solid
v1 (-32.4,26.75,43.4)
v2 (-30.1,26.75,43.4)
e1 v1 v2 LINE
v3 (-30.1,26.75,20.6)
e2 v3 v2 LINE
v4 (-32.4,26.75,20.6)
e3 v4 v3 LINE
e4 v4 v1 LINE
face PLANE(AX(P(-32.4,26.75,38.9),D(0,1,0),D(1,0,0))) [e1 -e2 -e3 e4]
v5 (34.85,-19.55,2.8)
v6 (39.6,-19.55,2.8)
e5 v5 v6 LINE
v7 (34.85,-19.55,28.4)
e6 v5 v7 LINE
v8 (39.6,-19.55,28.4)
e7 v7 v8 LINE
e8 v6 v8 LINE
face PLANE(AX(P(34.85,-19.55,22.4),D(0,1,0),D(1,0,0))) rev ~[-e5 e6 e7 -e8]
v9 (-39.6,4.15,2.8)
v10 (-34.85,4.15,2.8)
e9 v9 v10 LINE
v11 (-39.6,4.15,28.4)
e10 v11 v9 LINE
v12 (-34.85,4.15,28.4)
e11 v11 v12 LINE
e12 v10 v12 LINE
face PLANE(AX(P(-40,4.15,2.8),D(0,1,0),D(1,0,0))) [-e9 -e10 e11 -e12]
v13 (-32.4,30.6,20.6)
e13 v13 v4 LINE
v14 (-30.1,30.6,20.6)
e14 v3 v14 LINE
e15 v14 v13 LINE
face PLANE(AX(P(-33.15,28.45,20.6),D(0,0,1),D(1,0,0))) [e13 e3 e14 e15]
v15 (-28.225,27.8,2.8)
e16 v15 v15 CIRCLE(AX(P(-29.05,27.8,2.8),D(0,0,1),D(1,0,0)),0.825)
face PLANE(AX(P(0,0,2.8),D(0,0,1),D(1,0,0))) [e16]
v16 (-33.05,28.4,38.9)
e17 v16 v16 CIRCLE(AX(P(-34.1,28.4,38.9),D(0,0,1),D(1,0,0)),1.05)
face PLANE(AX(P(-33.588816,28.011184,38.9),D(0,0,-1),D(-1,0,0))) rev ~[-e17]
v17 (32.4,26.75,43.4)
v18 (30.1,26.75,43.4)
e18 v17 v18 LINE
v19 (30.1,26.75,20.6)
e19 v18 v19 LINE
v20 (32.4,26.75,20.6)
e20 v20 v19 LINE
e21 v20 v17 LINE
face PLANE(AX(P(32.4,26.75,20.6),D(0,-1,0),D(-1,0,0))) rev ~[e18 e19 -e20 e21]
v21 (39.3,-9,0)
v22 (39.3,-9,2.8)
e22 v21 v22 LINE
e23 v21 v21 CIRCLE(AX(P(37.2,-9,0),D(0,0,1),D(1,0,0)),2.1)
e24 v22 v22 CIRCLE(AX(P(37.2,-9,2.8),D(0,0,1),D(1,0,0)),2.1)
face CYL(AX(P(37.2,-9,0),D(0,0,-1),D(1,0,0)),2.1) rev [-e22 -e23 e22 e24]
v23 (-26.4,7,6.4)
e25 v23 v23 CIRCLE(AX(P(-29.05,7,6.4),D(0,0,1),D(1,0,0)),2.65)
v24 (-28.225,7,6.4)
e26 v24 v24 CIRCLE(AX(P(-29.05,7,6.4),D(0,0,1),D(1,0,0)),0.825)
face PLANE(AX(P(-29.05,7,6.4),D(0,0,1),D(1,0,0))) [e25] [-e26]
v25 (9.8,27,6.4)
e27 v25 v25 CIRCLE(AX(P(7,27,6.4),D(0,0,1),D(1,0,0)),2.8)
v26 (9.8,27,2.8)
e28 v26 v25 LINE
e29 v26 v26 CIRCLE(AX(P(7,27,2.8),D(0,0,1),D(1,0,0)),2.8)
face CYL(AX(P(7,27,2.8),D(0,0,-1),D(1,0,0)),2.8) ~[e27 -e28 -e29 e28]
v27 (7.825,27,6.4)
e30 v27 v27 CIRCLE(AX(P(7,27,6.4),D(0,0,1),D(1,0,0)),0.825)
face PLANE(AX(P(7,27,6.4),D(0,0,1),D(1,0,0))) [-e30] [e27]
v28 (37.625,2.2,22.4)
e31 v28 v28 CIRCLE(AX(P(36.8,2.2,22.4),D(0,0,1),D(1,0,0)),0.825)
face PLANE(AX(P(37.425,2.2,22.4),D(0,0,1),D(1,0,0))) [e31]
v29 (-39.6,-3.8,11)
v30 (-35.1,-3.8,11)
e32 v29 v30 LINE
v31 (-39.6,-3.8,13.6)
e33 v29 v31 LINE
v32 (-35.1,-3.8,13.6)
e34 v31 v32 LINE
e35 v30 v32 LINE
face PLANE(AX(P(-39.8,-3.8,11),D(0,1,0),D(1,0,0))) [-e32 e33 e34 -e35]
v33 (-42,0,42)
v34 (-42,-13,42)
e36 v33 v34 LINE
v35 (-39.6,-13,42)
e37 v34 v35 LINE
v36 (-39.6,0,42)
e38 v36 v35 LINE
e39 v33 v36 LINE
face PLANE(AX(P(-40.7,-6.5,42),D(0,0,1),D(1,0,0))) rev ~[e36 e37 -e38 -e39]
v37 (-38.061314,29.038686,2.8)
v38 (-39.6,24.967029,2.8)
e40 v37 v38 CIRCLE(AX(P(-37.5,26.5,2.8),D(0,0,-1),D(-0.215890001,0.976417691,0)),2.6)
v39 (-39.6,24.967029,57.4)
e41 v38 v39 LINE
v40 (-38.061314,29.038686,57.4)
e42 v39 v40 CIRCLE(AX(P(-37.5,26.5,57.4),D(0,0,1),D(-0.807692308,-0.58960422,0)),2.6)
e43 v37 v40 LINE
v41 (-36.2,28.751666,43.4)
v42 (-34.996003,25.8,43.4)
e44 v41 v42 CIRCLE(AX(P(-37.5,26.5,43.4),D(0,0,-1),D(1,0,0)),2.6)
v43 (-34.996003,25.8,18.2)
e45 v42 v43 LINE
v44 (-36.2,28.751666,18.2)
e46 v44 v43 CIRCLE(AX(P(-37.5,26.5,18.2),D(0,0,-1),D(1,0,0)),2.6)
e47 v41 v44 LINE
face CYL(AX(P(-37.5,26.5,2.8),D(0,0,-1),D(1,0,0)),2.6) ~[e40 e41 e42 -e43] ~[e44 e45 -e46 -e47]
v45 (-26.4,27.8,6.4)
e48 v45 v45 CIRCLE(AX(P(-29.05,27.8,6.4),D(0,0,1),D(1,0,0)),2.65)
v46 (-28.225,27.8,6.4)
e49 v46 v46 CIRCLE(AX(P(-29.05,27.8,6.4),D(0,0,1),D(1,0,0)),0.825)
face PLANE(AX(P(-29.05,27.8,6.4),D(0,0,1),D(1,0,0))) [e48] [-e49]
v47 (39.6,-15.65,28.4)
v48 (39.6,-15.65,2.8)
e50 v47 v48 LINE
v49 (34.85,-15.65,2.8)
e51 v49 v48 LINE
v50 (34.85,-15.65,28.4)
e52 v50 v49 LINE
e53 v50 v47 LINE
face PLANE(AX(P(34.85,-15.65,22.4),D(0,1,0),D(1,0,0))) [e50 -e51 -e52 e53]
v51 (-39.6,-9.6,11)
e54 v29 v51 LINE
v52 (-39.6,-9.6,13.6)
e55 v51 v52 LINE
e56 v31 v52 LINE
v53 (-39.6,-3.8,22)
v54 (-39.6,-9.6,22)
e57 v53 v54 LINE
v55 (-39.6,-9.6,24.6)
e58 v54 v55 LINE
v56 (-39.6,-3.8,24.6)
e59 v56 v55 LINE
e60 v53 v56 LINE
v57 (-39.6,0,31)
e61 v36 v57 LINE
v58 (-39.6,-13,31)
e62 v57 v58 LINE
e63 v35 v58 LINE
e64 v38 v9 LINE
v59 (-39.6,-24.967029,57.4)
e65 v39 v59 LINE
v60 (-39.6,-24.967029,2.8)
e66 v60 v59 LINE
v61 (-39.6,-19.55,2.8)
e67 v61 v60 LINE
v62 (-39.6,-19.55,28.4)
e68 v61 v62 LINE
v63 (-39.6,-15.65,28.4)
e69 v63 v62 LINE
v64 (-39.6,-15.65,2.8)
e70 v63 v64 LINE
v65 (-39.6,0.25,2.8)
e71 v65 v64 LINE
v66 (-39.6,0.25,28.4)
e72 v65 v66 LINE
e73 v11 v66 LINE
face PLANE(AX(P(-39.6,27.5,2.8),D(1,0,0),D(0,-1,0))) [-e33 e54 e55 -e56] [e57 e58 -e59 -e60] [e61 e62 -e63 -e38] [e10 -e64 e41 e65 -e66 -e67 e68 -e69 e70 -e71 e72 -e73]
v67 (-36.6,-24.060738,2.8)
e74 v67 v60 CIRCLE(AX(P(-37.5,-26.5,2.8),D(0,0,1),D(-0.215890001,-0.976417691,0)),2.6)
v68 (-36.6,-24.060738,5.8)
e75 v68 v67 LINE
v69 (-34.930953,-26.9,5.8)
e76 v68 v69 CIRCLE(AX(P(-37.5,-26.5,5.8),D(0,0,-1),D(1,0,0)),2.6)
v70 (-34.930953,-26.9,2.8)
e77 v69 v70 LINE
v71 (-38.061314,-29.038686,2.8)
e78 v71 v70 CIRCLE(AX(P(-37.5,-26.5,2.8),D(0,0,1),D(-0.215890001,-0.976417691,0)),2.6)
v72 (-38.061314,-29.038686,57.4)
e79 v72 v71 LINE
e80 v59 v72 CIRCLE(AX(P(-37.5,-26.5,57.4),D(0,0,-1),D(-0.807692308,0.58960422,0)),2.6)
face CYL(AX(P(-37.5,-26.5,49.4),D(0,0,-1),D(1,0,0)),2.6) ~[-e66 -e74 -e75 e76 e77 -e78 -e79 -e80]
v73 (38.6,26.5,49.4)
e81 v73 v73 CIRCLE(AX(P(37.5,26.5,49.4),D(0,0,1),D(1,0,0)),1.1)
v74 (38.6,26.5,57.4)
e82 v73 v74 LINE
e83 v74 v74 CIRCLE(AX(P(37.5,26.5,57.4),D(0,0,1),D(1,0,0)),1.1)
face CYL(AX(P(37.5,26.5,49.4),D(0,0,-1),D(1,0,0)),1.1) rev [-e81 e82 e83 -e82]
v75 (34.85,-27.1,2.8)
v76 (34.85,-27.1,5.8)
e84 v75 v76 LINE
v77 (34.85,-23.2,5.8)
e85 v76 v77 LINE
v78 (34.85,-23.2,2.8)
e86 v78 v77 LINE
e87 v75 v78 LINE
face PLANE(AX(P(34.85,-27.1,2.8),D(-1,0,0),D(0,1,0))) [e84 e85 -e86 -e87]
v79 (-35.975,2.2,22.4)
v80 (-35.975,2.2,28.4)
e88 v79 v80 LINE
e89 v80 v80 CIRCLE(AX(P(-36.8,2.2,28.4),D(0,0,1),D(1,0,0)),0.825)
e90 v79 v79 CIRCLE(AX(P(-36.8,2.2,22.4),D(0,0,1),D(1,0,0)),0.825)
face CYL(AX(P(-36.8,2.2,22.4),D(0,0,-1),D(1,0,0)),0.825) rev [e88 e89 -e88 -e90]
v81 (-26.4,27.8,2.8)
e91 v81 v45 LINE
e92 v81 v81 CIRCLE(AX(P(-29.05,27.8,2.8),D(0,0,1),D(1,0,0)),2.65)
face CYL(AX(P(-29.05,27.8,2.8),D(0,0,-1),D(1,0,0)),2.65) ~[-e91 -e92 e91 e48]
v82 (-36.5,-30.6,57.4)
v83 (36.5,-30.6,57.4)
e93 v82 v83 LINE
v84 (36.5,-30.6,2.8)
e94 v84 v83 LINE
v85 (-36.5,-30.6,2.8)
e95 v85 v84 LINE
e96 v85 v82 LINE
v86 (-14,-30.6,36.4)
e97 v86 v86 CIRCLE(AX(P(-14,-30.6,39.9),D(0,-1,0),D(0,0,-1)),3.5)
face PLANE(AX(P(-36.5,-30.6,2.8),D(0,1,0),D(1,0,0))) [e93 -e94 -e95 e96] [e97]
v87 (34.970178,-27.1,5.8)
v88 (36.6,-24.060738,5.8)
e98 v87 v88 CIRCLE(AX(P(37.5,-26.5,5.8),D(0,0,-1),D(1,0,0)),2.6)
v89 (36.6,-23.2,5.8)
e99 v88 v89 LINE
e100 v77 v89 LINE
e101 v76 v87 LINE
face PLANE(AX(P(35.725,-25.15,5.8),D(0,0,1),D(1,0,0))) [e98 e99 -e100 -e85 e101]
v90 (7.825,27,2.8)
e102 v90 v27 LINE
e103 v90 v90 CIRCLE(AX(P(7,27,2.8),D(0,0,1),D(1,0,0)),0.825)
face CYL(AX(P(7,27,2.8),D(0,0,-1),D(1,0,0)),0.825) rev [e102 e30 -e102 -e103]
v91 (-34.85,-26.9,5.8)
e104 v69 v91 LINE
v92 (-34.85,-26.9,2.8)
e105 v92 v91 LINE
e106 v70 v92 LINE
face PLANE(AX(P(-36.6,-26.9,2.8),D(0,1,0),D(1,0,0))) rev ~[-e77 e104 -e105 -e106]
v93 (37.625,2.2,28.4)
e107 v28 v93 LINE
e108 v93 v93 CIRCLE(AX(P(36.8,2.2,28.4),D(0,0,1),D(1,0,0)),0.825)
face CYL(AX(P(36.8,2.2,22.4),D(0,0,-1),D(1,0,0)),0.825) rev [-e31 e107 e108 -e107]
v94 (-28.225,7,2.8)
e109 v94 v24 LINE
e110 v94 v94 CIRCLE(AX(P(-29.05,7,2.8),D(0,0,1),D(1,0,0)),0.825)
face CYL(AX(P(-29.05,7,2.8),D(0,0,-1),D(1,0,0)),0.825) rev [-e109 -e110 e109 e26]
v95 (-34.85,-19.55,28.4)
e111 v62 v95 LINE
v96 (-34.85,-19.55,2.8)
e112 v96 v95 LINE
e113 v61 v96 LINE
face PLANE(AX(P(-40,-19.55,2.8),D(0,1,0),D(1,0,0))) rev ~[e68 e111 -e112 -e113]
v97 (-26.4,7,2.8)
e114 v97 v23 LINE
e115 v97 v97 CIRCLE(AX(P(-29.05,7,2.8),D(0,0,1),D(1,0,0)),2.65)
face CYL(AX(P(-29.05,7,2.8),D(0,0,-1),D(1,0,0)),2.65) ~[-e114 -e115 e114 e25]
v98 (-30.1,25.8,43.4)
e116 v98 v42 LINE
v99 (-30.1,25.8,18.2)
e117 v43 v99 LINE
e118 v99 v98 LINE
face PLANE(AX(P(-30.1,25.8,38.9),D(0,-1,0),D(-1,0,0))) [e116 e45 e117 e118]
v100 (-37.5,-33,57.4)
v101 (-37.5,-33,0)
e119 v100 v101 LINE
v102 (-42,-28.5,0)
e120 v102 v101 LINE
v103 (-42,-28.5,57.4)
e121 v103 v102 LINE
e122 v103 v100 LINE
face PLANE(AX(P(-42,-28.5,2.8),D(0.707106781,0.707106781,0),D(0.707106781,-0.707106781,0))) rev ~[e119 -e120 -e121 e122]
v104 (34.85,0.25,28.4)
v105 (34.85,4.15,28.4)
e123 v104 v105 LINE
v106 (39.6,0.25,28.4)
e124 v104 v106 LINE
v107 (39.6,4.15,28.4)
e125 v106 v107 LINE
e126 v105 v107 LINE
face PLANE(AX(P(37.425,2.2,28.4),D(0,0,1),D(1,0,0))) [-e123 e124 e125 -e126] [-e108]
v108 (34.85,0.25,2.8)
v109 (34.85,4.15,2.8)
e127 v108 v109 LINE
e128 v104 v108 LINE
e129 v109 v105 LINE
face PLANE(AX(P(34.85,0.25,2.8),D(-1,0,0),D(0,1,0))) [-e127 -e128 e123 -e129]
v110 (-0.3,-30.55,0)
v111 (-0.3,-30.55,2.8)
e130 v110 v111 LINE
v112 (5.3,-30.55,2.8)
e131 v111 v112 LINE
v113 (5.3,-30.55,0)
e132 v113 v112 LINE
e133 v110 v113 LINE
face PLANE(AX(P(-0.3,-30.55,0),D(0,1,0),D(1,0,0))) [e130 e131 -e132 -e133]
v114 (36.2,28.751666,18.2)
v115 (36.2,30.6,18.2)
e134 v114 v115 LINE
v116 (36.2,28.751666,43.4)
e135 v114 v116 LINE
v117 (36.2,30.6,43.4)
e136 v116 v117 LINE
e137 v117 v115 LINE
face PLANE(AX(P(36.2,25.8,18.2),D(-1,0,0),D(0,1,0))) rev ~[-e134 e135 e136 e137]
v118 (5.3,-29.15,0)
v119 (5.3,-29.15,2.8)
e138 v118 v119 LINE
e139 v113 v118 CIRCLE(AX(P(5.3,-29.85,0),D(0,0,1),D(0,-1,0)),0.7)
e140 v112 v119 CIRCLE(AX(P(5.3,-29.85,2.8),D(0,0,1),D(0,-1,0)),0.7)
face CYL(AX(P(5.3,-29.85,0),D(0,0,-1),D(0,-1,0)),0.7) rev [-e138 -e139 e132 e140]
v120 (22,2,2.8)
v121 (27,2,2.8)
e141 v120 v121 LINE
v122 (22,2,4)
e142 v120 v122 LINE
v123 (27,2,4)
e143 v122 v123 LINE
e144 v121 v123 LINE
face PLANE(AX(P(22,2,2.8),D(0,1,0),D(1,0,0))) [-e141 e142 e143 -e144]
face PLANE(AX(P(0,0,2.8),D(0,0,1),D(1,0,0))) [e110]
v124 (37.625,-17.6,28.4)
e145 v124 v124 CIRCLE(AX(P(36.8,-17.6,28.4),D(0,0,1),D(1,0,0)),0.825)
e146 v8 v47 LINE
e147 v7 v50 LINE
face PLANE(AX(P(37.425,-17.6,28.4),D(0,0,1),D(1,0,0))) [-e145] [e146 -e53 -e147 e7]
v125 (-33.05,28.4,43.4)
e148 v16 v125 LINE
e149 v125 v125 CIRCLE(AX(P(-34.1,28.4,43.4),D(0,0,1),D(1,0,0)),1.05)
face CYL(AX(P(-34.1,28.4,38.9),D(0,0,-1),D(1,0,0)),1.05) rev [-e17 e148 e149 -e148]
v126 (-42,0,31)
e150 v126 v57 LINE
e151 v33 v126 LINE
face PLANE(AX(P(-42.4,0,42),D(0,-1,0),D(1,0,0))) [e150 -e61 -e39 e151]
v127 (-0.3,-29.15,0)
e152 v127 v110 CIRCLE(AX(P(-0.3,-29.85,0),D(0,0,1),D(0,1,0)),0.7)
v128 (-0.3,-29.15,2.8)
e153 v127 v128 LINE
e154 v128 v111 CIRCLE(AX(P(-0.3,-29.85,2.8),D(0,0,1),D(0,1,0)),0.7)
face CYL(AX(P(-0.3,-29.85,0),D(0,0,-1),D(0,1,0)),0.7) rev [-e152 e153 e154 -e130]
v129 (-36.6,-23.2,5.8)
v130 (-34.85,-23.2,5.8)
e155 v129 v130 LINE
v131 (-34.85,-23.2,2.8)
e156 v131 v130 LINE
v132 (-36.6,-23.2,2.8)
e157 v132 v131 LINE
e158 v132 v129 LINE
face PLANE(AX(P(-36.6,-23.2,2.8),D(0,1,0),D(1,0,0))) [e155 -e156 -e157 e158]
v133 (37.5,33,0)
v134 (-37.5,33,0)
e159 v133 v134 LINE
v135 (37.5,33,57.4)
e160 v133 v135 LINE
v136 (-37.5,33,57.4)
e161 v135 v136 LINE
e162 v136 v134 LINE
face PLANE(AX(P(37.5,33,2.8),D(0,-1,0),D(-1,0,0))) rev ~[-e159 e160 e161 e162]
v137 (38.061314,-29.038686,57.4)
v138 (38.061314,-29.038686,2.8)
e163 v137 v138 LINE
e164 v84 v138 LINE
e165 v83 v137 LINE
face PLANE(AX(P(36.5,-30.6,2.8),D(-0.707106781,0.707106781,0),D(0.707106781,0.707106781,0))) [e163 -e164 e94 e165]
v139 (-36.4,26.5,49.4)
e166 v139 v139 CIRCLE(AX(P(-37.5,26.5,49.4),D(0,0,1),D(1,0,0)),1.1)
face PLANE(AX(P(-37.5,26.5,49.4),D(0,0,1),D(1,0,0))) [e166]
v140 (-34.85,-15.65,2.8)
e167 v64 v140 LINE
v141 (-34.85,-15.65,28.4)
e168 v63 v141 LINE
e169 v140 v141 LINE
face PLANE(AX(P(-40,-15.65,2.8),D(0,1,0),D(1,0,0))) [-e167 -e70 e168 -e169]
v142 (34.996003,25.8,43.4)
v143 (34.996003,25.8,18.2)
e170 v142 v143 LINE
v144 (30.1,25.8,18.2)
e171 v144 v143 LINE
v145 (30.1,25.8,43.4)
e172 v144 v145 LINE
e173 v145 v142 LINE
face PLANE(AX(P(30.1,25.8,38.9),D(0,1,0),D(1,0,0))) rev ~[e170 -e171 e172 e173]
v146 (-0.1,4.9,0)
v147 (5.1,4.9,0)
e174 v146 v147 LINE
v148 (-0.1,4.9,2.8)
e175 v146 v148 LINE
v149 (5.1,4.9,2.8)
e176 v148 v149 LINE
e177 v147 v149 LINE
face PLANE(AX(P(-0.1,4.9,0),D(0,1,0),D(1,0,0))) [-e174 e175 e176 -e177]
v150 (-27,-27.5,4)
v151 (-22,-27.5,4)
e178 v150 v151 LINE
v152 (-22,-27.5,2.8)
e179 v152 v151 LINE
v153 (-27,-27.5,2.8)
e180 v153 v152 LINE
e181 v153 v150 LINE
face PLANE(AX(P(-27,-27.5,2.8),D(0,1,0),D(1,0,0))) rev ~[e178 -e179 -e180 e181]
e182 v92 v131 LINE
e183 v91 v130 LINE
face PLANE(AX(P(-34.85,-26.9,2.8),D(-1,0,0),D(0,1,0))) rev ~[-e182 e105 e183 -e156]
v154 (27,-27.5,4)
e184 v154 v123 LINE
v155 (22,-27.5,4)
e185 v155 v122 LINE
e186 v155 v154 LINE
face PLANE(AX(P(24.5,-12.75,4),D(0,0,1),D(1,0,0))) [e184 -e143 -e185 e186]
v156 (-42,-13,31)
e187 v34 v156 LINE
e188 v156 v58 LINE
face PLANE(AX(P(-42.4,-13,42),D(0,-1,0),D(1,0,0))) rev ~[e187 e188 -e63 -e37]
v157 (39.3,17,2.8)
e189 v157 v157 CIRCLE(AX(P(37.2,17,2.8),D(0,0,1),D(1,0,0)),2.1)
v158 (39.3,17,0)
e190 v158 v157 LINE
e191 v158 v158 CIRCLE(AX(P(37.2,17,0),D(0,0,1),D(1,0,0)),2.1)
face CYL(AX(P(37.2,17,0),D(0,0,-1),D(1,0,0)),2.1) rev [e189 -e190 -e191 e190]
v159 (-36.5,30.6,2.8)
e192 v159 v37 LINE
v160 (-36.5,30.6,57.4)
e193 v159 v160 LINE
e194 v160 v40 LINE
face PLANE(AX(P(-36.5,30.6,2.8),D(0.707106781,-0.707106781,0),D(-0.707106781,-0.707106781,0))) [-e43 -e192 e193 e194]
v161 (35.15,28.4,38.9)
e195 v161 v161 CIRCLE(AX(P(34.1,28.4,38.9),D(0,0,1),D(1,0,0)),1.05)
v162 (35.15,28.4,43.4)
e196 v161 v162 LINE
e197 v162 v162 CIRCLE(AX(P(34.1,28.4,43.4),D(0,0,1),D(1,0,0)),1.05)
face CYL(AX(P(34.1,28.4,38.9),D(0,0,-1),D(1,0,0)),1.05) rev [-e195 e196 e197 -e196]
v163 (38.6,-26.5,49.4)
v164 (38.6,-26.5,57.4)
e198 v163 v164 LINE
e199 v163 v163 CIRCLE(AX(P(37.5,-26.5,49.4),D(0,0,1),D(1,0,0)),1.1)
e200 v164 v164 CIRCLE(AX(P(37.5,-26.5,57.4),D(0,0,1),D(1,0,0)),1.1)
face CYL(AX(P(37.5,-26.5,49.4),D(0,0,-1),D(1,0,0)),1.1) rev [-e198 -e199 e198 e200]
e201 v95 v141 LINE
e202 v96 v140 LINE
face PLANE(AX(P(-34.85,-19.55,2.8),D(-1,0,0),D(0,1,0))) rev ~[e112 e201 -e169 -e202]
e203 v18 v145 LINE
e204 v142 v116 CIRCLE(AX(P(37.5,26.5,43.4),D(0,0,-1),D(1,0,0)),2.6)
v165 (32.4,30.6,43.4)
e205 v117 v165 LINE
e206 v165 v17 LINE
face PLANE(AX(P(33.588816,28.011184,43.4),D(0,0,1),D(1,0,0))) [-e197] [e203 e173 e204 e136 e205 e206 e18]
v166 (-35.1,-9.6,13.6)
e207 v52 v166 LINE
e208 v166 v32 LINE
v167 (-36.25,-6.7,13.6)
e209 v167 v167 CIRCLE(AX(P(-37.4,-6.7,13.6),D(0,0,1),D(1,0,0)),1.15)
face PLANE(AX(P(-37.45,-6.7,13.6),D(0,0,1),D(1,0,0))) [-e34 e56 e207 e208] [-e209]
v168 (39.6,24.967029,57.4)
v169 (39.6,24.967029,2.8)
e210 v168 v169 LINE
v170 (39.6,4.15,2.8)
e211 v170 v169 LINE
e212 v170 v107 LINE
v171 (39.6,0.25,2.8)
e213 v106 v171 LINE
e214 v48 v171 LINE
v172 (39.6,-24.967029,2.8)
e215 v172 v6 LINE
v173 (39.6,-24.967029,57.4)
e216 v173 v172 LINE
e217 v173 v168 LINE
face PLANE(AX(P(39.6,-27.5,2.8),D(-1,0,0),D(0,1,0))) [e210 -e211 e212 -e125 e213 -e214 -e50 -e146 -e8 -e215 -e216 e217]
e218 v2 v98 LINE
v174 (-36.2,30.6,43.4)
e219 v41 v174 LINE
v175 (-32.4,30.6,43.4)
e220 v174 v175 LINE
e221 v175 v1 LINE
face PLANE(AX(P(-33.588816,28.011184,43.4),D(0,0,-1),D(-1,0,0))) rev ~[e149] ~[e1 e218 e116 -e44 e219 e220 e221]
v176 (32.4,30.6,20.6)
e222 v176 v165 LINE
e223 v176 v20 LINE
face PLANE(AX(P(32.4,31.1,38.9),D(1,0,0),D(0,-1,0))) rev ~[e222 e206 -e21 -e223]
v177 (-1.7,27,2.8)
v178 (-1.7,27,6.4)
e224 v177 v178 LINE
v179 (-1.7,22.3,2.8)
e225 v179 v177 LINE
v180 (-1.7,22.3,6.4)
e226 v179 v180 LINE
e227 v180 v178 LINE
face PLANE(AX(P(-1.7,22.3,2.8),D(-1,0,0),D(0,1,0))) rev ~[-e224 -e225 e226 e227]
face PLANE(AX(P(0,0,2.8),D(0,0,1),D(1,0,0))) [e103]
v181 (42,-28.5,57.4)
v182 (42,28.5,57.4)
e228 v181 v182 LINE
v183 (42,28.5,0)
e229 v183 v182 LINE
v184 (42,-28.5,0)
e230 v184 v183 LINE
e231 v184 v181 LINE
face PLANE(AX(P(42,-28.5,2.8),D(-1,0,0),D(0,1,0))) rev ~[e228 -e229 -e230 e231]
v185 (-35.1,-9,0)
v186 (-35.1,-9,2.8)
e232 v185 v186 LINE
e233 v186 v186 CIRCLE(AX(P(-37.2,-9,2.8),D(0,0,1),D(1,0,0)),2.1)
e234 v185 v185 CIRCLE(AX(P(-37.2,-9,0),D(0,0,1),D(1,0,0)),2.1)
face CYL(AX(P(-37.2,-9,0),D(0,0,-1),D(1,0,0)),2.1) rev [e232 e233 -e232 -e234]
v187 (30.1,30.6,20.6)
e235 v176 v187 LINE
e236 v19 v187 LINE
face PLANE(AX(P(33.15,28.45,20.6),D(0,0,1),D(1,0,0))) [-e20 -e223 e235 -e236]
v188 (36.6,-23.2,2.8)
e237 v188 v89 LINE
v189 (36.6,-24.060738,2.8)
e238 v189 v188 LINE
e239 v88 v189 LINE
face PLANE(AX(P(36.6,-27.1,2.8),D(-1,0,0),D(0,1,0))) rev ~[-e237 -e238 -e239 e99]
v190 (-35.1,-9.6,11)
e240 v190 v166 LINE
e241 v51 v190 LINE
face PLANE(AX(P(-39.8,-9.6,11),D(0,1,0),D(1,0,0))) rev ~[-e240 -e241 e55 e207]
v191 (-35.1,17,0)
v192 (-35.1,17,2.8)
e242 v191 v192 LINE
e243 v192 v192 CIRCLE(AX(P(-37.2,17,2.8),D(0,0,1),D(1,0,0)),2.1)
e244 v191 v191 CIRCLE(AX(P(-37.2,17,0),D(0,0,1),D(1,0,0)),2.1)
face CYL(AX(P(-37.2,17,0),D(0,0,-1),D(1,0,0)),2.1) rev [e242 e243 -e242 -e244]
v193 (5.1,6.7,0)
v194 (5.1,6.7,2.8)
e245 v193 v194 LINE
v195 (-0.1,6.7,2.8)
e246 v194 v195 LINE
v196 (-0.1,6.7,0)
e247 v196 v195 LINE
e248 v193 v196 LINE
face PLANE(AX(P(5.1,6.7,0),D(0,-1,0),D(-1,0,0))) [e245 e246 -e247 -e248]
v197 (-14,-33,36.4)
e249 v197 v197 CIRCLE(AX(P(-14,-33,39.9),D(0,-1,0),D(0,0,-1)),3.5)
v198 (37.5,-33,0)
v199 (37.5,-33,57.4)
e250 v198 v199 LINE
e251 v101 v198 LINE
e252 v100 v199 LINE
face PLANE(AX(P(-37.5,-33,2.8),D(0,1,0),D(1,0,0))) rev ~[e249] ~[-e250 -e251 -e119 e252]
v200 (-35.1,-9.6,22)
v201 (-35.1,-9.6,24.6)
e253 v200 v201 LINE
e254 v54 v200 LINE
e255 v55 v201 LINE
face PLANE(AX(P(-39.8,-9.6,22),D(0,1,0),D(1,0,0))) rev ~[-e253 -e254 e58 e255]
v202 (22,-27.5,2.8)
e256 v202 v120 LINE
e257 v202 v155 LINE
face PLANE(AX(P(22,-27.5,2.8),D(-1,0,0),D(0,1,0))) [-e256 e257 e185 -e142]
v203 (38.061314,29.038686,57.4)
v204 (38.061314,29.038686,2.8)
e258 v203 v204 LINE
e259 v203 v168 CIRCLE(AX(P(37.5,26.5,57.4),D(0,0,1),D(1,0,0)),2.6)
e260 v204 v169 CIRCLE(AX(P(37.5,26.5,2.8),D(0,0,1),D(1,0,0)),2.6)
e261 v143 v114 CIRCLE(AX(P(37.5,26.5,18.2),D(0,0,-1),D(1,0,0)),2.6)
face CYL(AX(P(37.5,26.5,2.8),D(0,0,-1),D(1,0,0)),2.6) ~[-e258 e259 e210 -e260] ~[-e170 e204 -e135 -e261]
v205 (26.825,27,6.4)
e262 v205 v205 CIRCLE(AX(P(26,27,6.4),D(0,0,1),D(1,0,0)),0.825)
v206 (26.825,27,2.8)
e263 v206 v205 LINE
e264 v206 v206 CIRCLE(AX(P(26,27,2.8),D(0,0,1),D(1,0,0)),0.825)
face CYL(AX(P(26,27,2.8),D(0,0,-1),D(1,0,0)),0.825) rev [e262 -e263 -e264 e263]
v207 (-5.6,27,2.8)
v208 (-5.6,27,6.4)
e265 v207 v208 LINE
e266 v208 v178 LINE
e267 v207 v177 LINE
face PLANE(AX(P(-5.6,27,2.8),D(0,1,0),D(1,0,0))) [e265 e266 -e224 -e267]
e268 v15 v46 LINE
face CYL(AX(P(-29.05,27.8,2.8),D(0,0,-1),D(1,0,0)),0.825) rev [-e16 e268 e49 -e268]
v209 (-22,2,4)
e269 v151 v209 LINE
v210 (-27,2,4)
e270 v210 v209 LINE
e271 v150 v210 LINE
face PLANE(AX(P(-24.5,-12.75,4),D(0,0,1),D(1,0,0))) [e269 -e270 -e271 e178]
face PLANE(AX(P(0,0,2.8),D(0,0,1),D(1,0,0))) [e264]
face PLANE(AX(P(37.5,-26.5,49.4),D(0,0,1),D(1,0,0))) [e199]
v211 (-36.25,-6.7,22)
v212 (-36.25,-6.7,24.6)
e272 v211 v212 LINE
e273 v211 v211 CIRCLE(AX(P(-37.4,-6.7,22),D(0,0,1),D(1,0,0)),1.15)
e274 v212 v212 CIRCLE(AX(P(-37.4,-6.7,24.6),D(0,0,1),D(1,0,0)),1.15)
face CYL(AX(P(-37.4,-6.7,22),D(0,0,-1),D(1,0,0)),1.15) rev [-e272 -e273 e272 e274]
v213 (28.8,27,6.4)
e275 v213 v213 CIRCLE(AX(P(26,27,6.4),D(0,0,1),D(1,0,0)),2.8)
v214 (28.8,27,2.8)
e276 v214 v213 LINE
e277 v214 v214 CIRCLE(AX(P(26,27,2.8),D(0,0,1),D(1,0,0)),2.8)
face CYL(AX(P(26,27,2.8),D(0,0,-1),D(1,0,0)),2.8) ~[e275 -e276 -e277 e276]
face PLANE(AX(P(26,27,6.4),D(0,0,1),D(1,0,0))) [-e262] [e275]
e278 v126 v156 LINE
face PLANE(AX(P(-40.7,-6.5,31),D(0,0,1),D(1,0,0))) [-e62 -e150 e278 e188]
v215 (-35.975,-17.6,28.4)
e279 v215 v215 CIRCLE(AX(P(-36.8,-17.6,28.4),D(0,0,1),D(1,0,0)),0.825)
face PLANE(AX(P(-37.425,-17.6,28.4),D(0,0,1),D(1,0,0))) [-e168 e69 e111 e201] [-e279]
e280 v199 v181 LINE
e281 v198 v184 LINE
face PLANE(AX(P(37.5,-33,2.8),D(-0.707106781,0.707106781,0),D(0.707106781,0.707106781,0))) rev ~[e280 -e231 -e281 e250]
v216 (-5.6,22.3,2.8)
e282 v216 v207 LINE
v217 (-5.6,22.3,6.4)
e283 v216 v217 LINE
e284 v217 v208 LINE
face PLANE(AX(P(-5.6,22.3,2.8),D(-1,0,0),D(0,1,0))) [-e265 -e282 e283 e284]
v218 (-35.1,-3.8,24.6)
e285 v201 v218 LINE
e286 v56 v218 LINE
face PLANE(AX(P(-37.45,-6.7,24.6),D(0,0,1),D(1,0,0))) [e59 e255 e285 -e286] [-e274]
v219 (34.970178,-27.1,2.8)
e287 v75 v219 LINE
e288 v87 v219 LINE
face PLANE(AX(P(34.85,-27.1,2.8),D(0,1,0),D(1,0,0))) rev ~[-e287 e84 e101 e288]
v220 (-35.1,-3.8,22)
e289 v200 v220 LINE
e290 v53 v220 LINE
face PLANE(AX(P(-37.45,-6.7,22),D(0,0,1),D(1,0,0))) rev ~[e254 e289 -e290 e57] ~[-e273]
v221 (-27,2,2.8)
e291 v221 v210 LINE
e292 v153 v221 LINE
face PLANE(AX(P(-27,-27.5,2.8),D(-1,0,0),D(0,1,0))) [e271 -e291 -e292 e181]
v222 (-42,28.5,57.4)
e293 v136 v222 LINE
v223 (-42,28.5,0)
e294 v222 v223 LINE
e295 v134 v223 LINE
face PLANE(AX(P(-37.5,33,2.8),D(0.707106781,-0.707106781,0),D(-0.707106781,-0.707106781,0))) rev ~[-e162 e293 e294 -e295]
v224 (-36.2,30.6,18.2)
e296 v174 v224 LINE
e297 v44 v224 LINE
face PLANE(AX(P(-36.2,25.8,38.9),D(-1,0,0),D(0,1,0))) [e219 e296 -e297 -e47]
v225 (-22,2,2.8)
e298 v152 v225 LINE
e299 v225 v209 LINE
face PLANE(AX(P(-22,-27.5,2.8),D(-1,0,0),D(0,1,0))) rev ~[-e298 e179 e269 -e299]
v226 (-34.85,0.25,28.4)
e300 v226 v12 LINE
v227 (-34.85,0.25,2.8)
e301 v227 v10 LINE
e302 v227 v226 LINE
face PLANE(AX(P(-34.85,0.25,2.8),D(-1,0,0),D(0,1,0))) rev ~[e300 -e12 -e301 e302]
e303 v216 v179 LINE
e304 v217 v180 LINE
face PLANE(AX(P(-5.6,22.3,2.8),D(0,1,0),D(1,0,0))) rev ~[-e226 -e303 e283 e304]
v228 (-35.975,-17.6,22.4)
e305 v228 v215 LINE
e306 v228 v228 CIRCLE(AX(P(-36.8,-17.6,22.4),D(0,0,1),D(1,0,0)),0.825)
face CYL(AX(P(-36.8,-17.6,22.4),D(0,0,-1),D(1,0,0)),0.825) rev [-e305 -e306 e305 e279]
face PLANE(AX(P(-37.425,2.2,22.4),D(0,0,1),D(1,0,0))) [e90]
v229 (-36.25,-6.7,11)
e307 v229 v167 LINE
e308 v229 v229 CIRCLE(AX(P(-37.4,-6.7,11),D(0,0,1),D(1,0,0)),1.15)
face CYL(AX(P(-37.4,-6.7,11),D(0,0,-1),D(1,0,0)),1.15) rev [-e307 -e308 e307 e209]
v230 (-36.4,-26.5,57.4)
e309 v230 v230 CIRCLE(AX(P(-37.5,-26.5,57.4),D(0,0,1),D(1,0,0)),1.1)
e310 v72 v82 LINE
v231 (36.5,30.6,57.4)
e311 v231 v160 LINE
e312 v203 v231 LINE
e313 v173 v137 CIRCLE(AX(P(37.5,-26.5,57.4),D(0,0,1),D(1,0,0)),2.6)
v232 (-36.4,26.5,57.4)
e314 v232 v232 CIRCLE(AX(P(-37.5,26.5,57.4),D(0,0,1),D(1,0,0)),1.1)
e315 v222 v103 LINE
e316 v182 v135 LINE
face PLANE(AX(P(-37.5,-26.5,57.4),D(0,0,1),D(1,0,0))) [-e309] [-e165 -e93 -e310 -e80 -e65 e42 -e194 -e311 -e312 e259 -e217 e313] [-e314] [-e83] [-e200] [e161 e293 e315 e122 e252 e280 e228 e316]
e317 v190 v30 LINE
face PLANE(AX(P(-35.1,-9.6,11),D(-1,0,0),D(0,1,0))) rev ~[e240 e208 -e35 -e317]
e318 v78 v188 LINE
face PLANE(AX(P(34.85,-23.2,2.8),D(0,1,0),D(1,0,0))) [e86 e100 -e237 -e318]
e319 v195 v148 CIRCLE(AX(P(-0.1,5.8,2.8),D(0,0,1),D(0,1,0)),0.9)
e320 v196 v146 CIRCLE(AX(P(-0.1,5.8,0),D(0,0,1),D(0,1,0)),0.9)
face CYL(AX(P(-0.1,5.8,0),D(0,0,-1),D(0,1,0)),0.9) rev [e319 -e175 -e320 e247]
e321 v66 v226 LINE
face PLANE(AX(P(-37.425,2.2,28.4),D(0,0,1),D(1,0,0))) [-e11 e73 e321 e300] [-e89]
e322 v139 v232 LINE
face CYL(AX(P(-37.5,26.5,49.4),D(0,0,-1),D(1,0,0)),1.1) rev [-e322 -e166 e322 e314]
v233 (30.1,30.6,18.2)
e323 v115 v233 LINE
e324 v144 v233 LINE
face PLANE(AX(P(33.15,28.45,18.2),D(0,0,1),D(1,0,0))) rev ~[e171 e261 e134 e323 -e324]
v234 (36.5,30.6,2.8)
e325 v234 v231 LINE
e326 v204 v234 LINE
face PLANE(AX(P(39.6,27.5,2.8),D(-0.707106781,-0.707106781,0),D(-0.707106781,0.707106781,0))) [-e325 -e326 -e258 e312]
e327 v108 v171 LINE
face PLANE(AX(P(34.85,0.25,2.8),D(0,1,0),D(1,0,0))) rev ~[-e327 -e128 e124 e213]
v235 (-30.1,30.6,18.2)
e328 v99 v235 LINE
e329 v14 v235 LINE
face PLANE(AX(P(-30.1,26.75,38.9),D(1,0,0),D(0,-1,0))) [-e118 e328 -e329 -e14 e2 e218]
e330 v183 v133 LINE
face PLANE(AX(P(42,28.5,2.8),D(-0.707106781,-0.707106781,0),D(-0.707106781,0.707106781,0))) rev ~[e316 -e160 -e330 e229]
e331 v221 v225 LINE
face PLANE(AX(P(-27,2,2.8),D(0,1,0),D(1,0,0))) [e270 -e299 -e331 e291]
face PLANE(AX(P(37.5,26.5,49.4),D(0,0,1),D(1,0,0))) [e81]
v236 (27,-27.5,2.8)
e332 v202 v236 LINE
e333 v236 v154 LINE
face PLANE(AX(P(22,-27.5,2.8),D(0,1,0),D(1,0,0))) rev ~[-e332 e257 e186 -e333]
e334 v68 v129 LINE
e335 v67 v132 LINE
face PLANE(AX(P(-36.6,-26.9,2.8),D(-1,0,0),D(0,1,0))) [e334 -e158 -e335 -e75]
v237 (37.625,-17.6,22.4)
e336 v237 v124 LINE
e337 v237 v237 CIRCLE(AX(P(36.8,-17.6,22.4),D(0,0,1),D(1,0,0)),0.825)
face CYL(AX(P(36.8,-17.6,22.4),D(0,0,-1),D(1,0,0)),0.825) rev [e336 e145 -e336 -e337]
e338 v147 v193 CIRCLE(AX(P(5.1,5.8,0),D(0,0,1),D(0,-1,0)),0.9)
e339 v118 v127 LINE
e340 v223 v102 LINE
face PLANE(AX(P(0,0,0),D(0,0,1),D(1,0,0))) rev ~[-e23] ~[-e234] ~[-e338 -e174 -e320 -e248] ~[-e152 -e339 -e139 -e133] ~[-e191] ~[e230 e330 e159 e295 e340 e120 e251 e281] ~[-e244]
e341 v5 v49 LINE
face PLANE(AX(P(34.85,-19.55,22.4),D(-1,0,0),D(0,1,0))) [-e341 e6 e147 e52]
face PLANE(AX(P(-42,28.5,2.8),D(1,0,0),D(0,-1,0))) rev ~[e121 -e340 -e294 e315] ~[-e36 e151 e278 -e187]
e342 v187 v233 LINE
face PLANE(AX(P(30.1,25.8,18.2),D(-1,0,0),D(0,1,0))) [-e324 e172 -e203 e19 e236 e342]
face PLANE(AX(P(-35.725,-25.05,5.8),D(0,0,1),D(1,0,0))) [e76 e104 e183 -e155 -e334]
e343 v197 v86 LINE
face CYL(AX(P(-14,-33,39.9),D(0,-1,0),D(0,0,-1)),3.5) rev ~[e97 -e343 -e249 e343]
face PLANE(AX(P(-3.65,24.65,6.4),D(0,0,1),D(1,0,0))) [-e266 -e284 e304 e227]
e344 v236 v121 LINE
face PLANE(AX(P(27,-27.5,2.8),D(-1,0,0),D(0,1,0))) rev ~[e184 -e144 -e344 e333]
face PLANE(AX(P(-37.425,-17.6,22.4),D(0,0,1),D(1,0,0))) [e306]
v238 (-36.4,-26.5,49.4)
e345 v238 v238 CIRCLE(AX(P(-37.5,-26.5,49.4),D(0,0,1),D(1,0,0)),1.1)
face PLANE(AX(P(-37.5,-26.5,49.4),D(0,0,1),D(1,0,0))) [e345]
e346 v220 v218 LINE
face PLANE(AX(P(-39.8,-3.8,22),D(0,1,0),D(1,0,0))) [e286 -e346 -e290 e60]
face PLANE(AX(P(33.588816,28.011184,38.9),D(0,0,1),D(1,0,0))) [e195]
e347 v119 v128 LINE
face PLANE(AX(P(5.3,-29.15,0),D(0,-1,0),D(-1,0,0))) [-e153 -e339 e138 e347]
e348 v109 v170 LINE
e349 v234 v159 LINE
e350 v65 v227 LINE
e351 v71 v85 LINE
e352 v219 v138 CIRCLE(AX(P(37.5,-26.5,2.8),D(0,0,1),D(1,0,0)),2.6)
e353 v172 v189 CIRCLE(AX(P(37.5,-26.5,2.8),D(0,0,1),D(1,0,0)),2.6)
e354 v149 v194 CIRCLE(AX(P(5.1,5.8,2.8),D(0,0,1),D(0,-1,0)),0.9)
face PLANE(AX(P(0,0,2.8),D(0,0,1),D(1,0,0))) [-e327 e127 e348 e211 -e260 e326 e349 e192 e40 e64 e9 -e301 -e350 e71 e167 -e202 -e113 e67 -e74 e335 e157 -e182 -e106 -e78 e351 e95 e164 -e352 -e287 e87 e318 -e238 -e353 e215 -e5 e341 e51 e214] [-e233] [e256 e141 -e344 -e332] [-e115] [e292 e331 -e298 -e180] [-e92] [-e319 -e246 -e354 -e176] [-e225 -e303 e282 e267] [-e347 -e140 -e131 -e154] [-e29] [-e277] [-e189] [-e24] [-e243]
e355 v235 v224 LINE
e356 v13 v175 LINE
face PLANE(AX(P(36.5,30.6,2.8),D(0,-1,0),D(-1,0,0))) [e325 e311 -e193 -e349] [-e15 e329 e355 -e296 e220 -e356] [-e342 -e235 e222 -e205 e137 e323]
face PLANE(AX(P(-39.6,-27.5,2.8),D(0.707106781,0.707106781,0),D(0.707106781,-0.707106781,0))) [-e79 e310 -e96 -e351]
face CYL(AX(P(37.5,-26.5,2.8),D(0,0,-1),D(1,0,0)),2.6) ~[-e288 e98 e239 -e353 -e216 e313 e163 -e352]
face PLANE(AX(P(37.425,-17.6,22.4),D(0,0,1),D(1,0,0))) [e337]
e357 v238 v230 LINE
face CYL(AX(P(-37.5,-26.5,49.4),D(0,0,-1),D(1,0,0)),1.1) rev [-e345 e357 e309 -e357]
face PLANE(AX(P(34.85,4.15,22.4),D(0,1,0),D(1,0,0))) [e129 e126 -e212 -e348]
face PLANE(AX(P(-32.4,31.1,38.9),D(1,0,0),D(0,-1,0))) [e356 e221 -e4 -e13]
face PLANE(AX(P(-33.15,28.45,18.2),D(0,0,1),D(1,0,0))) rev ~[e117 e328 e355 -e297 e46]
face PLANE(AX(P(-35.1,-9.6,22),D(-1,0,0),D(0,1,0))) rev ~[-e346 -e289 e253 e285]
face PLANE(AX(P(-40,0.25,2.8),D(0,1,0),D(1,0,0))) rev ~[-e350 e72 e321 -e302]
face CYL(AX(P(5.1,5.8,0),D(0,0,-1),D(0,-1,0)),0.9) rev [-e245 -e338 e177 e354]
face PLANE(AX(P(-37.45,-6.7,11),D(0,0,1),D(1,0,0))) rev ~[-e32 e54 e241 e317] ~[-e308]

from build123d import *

# Parameters (mm, degrees)
F_84_X_66_FLOOR_WITH_CASE_SCREW_AND_BA_2_R       = 2.1
F_84_X_66_FLOOR_WITH_CASE_SCREW_AND_BATTER_DEPTH = 2.8
F_2_4_START                                      = 2.8
F_2_4_MM_PERIMETER_WALL_DEPTH                    = 54.6
LID_START                                        = 2.8
LID_D2_2_PILOTS_CORE_PROFILE_R                   = 2.6
LID_D2_2_PILOTS_CORE_DEPTH                       = 46.6
LID_START_2                                      = 49.4
LID_D2_2_PILOTS_PROFILE_R                        = 2.6
LID_D2_2_PILOTS_PROFILE_R_2                      = 1.1
LID_D2_2_PILOTS_DEPTH                            = 8
WALL_BACKED_START                                = 2.8
WALL_BACKED_SHELF_SUPPORT_RIBS_PROFILE_W         = 5.15
WALL_BACKED_SHELF_SUPPORT_RIBS_PROFILE_H         = 3.9
WALL_BACKED_SHELF_SUPPORT_RIBS_DEPTH             = 19.6
WALL_BACKED_START_2                              = 22.4
WALL_BACKED_SHELF_SUPPORT_D1_65_PILOTS_P_W       = 5.15
WALL_BACKED_SHELF_SUPPORT_D1_65_PILOTS_P_H       = 3.9
WALL_BACKED_SHELF_SUPPORT_D1_65_PILOTS_P_R       = 0.825
WALL_BACKED_SHELF_SUPPORT_D1_65_PILOTS_DEPTH     = 6
SENSOR_START                                     = 2.8
SENSOR_D1_65_PILOTS_19_MM_CENTERS_PROF_R         = 2.8
SENSOR_D1_65_PILOTS_19_MM_CENTERS_PROF_R_2       = 0.825
SENSOR_D1_65_PILOTS_19_MM_CENTERS_DEPTH          = 3.6
GNSS_START                                       = 2.8
GNSS_M2_D1_65_PILOTS_CENTERS_PROVI_2_R           = 2.65
GNSS_M2_D1_65_PILOTS_CENTERS_PROVI_2_R_2         = 0.825
GNSS_M2_D1_65_PILOTS_CENTERS_PROVISION_DEPTH     = 3.6
GNSS_PLAIN_SUPPORT_PROFILE_W                     = 3.9
GNSS_PLAIN_SUPPORT_PROFILE_H                     = 4.7
GNSS_PLAIN_SUPPORT_DEPTH                         = 3.6
BATTERY_START                                    = 2.8
BATTERY_END_STOPS_PROFILE_W                      = 1.75
BATTERY_END_STOPS_PROFILE_H                      = 3.7
BATTERY_END_STOPS_PROFILE_H_2                    = 3.9
BATTERY_END_STOPS_DEPTH                          = 3
BATTERY_SUPPORTS_WITH_STRAP_SPACE_BE_2_W         = 5
BATTERY_SUPPORTS_WITH_STRAP_SPACE_BE_2_H         = 29.5
BATTERY_SUPPORTS_WITH_STRAP_SPACE_BELOW_DEPTH    = 1.2
POWER_START                                      = 18.2
POWER_PLATE_RAISED_GUIDE_SEATS_PROFILE_W         = 6.1
POWER_PLATE_RAISED_GUIDE_SEATS_PROFILE_H         = 5.3
POWER_PLATE_RAISED_GUIDE_SEATS_DEPTH             = 2.4
POWER_START_2                                    = 20.6
POWER_PLATE_RAISED_GUIDE_CHANNELS_DEPTH          = 18.3
POWER_START_3                                    = 38.9
POWER_KEEPER_WASHER_D2_1_PILOTS_PROFILE_R        = 1.05
POWER_KEEPER_WASHER_D2_1_PILOTS_DEPTH            = 4.5
WALL_START                                       = 11
WALL_WIRING_TIE_EYE_AT_11_PROFILE_W              = 4.7
WALL_WIRING_TIE_EYE_AT_11_PROFILE_H              = 5.8
WALL_WIRING_TIE_EYE_AT_11_PROFILE_R              = 1.15
WALL_WIRING_TIE_EYE_AT_11_DEPTH                  = 2.6
WALL_START_2                                     = 22
WALL_WIRING_TIE_EYE_AT_22_PROFILE_W              = 4.7
WALL_WIRING_TIE_EYE_AT_22_PROFILE_H              = 5.8
WALL_WIRING_TIE_EYE_AT_22_PROFILE_R              = 1.15
WALL_WIRING_TIE_EYE_AT_22_DEPTH                  = 2.6
USB_START                                        = 42
USB_RESERVE_13_X_11_AT_LOWER_END_OF_2_W          = 3.4
USB_RESERVE_13_X_11_AT_LOWER_END_OF_2_H          = 13
USB_RESERVE_13_X_11_AT_LOWER_END_OF_PCB_DEPTH    = 11
D7_ROUND_PORT_FOR_D6_5_ANTENNA_18_2_R            = 3.5
D7_ROUND_PORT_FOR_D6_5_ANTENNA_18_FROM_DEPTH     = 2.5


with BuildPart() as part:
    # 84 x 66 floor with case screw and ba 2 → 84 x 66 floor with case screw and batter (new body)
    with BuildSketch(Plane.XY):
        Polygon((-37.5, -33), (37.5, -33), (42, -28.5), (42, 28.5), (37.5, 33), (-37.5, 33), (-42, 28.5), (-42, -28.5), align=None)
        with Locations((-37.2, -9)):
            Circle(F_84_X_66_FLOOR_WITH_CASE_SCREW_AND_BA_2_R, mode=Mode.SUBTRACT)
        with Locations((37.2, -9)):
            Circle(F_84_X_66_FLOOR_WITH_CASE_SCREW_AND_BA_2_R, mode=Mode.SUBTRACT)
        with Locations((-37.2, 17)):
            Circle(F_84_X_66_FLOOR_WITH_CASE_SCREW_AND_BA_2_R, mode=Mode.SUBTRACT)
        with Locations((37.2, 17)):
            Circle(F_84_X_66_FLOOR_WITH_CASE_SCREW_AND_BA_2_R, mode=Mode.SUBTRACT)
        with BuildLine():
            Line((-0.3, -30.55), (5.3, -30.55))
            ThreePointArc((5.3, -30.55), (6, -29.85), (5.3, -29.15))
            Line((5.3, -29.15), (-0.3, -29.15))
            ThreePointArc((-0.3, -29.15), (-1, -29.85), (-0.3, -30.55))
        make_face(mode=Mode.SUBTRACT)
        with BuildLine():
            Line((-0.1, 4.9), (5.1, 4.9))
            ThreePointArc((5.1, 4.9), (6, 5.8), (5.1, 6.7))
            Line((5.1, 6.7), (-0.1, 6.7))
            ThreePointArc((-0.1, 6.7), (-1, 5.8), (-0.1, 4.9))
        make_face(mode=Mode.SUBTRACT)
    extrude(amount=F_84_X_66_FLOOR_WITH_CASE_SCREW_AND_BATTER_DEPTH)

    # 2.4 mm perimeter wall profile → 2.4 mm perimeter wall (add)
    with BuildSketch(Plane.XY.offset(F_2_4_START)):
        Polygon((-37.5, -33), (37.5, -33), (42, -28.5), (42, 28.5), (37.5, 33), (-37.5, 33), (-42, 28.5), (-42, -28.5), align=None)
        Polygon((-36.5, -30.6), (36.5, -30.6), (39.6, -27.5), (39.6, 27.5), (36.5, 30.6), (-36.5, 30.6), (-39.6, 27.5), (-39.6, -27.5), align=None, mode=Mode.SUBTRACT)
    extrude(amount=F_2_4_MM_PERIMETER_WALL_DEPTH)

    # Lid D2.2 pilots core profile → Lid D2.2 pilots core (add)
    with BuildSketch(Plane.XY.offset(LID_START)):
        with Locations((-37.5, -26.5)):
            Circle(LID_D2_2_PILOTS_CORE_PROFILE_R)
        with Locations((37.5, -26.5)):
            Circle(LID_D2_2_PILOTS_CORE_PROFILE_R)
        with Locations((-37.5, 26.5)):
            Circle(LID_D2_2_PILOTS_CORE_PROFILE_R)
        with Locations((37.5, 26.5)):
            Circle(LID_D2_2_PILOTS_CORE_PROFILE_R)
    extrude(amount=LID_D2_2_PILOTS_CORE_DEPTH)

    # Lid D2.2 pilots profile → Lid D2.2 pilots (add)
    # profile 1 of 4: a face of its own
    with BuildSketch(Plane.XY.offset(LID_START_2)):
        with Locations((-37.5, -26.5)):
            Circle(LID_D2_2_PILOTS_PROFILE_R)
        with Locations((-37.5, -26.5)):
            Circle(LID_D2_2_PILOTS_PROFILE_R_2, mode=Mode.SUBTRACT)
    # profile 2 of 4: a face of its own
    with BuildSketch(Plane.XY.offset(LID_START_2)):
        with Locations((37.5, -26.5)):
            Circle(LID_D2_2_PILOTS_PROFILE_R)
        with Locations((37.5, -26.5)):
            Circle(LID_D2_2_PILOTS_PROFILE_R_2, mode=Mode.SUBTRACT)
    # profile 3 of 4: a face of its own
    with BuildSketch(Plane.XY.offset(LID_START_2)):
        with Locations((-37.5, 26.5)):
            Circle(LID_D2_2_PILOTS_PROFILE_R)
        with Locations((-37.5, 26.5)):
            Circle(LID_D2_2_PILOTS_PROFILE_R_2, mode=Mode.SUBTRACT)
    # profile 4 of 4: a face of its own
    with BuildSketch(Plane.XY.offset(LID_START_2)):
        with Locations((37.5, 26.5)):
            Circle(LID_D2_2_PILOTS_PROFILE_R)
        with Locations((37.5, 26.5)):
            Circle(LID_D2_2_PILOTS_PROFILE_R_2, mode=Mode.SUBTRACT)
    extrude(amount=LID_D2_2_PILOTS_DEPTH)

    # Wall-backed shelf support ribs profile → Wall-backed shelf support ribs (add)
    with BuildSketch(Plane.XY.offset(WALL_BACKED_START)):
        with Locations((37.425, -17.6)):
            Rectangle(WALL_BACKED_SHELF_SUPPORT_RIBS_PROFILE_W, WALL_BACKED_SHELF_SUPPORT_RIBS_PROFILE_H)
        with Locations((-37.425, -17.6)):
            Rectangle(WALL_BACKED_SHELF_SUPPORT_RIBS_PROFILE_W, WALL_BACKED_SHELF_SUPPORT_RIBS_PROFILE_H)
        with Locations((37.425, 2.2)):
            Rectangle(WALL_BACKED_SHELF_SUPPORT_RIBS_PROFILE_W, WALL_BACKED_SHELF_SUPPORT_RIBS_PROFILE_H)
        with Locations((-37.425, 2.2)):
            Rectangle(WALL_BACKED_SHELF_SUPPORT_RIBS_PROFILE_W, WALL_BACKED_SHELF_SUPPORT_RIBS_PROFILE_H)
    extrude(amount=WALL_BACKED_SHELF_SUPPORT_RIBS_DEPTH)

    # Wall-backed shelf support D1.65 pilots profile → Wall-backed shelf support D1.65 pilots (add)
    # profile 1 of 4: a face of its own
    with BuildSketch(Plane.XY.offset(WALL_BACKED_START_2)):
        with Locations((37.425, -17.6)):
            Rectangle(WALL_BACKED_SHELF_SUPPORT_D1_65_PILOTS_P_W, WALL_BACKED_SHELF_SUPPORT_D1_65_PILOTS_P_H)
        with Locations((36.8, -17.6)):
            Circle(WALL_BACKED_SHELF_SUPPORT_D1_65_PILOTS_P_R, mode=Mode.SUBTRACT)
    # profile 2 of 4: a face of its own
    with BuildSketch(Plane.XY.offset(WALL_BACKED_START_2)):
        with Locations((-37.425, -17.6)):
            Rectangle(WALL_BACKED_SHELF_SUPPORT_D1_65_PILOTS_P_W, WALL_BACKED_SHELF_SUPPORT_D1_65_PILOTS_P_H)
        with Locations((-36.8, -17.6)):
            Circle(WALL_BACKED_SHELF_SUPPORT_D1_65_PILOTS_P_R, mode=Mode.SUBTRACT)
    # profile 3 of 4: a face of its own
    with BuildSketch(Plane.XY.offset(WALL_BACKED_START_2)):
        with Locations((37.425, 2.2)):
            Rectangle(WALL_BACKED_SHELF_SUPPORT_D1_65_PILOTS_P_W, WALL_BACKED_SHELF_SUPPORT_D1_65_PILOTS_P_H)
        with Locations((36.8, 2.2)):
            Circle(WALL_BACKED_SHELF_SUPPORT_D1_65_PILOTS_P_R, mode=Mode.SUBTRACT)
    # profile 4 of 4: a face of its own
    with BuildSketch(Plane.XY.offset(WALL_BACKED_START_2)):
        with Locations((-37.425, 2.2)):
            Rectangle(WALL_BACKED_SHELF_SUPPORT_D1_65_PILOTS_P_W, WALL_BACKED_SHELF_SUPPORT_D1_65_PILOTS_P_H)
        with Locations((-36.8, 2.2)):
            Circle(WALL_BACKED_SHELF_SUPPORT_D1_65_PILOTS_P_R, mode=Mode.SUBTRACT)
    extrude(amount=WALL_BACKED_SHELF_SUPPORT_D1_65_PILOTS_DEPTH)

    # Sensor D1.65 pilots - 19 mm centers profile → Sensor D1.65 pilots - 19 mm centers (add)
    # profile 1 of 2: a face of its own
    with BuildSketch(Plane.XY.offset(SENSOR_START)):
        with Locations((7, 27)):
            Circle(SENSOR_D1_65_PILOTS_19_MM_CENTERS_PROF_R)
        with Locations((7, 27)):
            Circle(SENSOR_D1_65_PILOTS_19_MM_CENTERS_PROF_R_2, mode=Mode.SUBTRACT)
    # profile 2 of 2: a face of its own
    with BuildSketch(Plane.XY.offset(SENSOR_START)):
        with Locations((26, 27)):
            Circle(SENSOR_D1_65_PILOTS_19_MM_CENTERS_PROF_R)
        with Locations((26, 27)):
            Circle(SENSOR_D1_65_PILOTS_19_MM_CENTERS_PROF_R_2, mode=Mode.SUBTRACT)
    extrude(amount=SENSOR_D1_65_PILOTS_19_MM_CENTERS_DEPTH)

    # GNSS M2 D1.65 pilots - centers provi 2 → GNSS M2 D1.65 pilots - centers provision (add)
    # profile 1 of 2: a face of its own
    with BuildSketch(Plane.XY.offset(GNSS_START)):
        with Locations((-29.05, 7)):
            Circle(GNSS_M2_D1_65_PILOTS_CENTERS_PROVI_2_R)
        with Locations((-29.05, 7)):
            Circle(GNSS_M2_D1_65_PILOTS_CENTERS_PROVI_2_R_2, mode=Mode.SUBTRACT)
    # profile 2 of 2: a face of its own
    with BuildSketch(Plane.XY.offset(GNSS_START)):
        with Locations((-29.05, 27.8)):
            Circle(GNSS_M2_D1_65_PILOTS_CENTERS_PROVI_2_R)
        with Locations((-29.05, 27.8)):
            Circle(GNSS_M2_D1_65_PILOTS_CENTERS_PROVI_2_R_2, mode=Mode.SUBTRACT)
    extrude(amount=GNSS_M2_D1_65_PILOTS_CENTERS_PROVISION_DEPTH)

    # GNSS plain support profile → GNSS plain support (add)
    with BuildSketch(Plane.XY.offset(GNSS_START)):
        with Locations((-3.65, 24.65)):
            Rectangle(GNSS_PLAIN_SUPPORT_PROFILE_W, GNSS_PLAIN_SUPPORT_PROFILE_H)
    extrude(amount=GNSS_PLAIN_SUPPORT_DEPTH)

    # Battery end stops profile → Battery end stops (add)
    with BuildSketch(Plane.XY.offset(BATTERY_START)):
        with Locations((-35.725, -25.05)):
            Rectangle(BATTERY_END_STOPS_PROFILE_W, BATTERY_END_STOPS_PROFILE_H)
        with Locations((35.725, -25.15)):
            Rectangle(BATTERY_END_STOPS_PROFILE_W, BATTERY_END_STOPS_PROFILE_H_2)
    extrude(amount=BATTERY_END_STOPS_DEPTH)

    # Battery supports with strap space be 2 → Battery supports with strap space below (add)
    with BuildSketch(Plane.XY.offset(BATTERY_START)):
        with Locations((-24.5, -12.75)):
            Rectangle(BATTERY_SUPPORTS_WITH_STRAP_SPACE_BE_2_W, BATTERY_SUPPORTS_WITH_STRAP_SPACE_BE_2_H)
        with Locations((24.5, -12.75)):
            Rectangle(BATTERY_SUPPORTS_WITH_STRAP_SPACE_BE_2_W, BATTERY_SUPPORTS_WITH_STRAP_SPACE_BE_2_H)
    extrude(amount=BATTERY_SUPPORTS_WITH_STRAP_SPACE_BELOW_DEPTH)

    # Power plate raised guide seats profile → Power plate raised guide seats (add)
    with BuildSketch(Plane.XY.offset(POWER_START)):
        with Locations((-33.15, 28.45)):
            Rectangle(POWER_PLATE_RAISED_GUIDE_SEATS_PROFILE_W, POWER_PLATE_RAISED_GUIDE_SEATS_PROFILE_H)
        with Locations((33.15, 28.45)):
            Rectangle(POWER_PLATE_RAISED_GUIDE_SEATS_PROFILE_W, POWER_PLATE_RAISED_GUIDE_SEATS_PROFILE_H)
    extrude(amount=POWER_PLATE_RAISED_GUIDE_SEATS_DEPTH)

    # Power plate raised guide channels profile → Power plate raised guide channels (add)
    with BuildSketch(Plane.XY.offset(POWER_START_2)):
        Polygon((-30.1, 25.8), (-36.2, 25.8), (-36.2, 31.1), (-32.4, 31.1), (-32.4, 26.75), (-30.1, 26.75), align=None)
        Polygon((30.1, 25.8), (36.2, 25.8), (36.2, 31.1), (32.4, 31.1), (32.4, 26.75), (30.1, 26.75), align=None)
    extrude(amount=POWER_PLATE_RAISED_GUIDE_CHANNELS_DEPTH)

    # Power keeper washer D2.1 pilots profile → Power keeper washer D2.1 pilots (add)
    # profile 1 of 2: a face of its own
    with BuildSketch(Plane.XY.offset(POWER_START_3)):
        Polygon((-30.1, 25.8), (-36.2, 25.8), (-36.2, 31.1), (-32.4, 31.1), (-32.4, 26.75), (-30.1, 26.75), align=None)
        with Locations((-34.1, 28.4)):
            Circle(POWER_KEEPER_WASHER_D2_1_PILOTS_PROFILE_R, mode=Mode.SUBTRACT)
    # profile 2 of 2: a face of its own
    with BuildSketch(Plane.XY.offset(POWER_START_3)):
        Polygon((30.1, 25.8), (36.2, 25.8), (36.2, 31.1), (32.4, 31.1), (32.4, 26.75), (30.1, 26.75), align=None)
        with Locations((34.1, 28.4)):
            Circle(POWER_KEEPER_WASHER_D2_1_PILOTS_PROFILE_R, mode=Mode.SUBTRACT)
    extrude(amount=POWER_KEEPER_WASHER_D2_1_PILOTS_DEPTH)

    # Wall wiring tie eye at 11 profile → Wall wiring tie eye at 11 (add)
    with BuildSketch(Plane.XY.offset(WALL_START)):
        with Locations((-37.45, -6.7)):
            Rectangle(WALL_WIRING_TIE_EYE_AT_11_PROFILE_W, WALL_WIRING_TIE_EYE_AT_11_PROFILE_H)
        with Locations((-37.4, -6.7)):
            Circle(WALL_WIRING_TIE_EYE_AT_11_PROFILE_R, mode=Mode.SUBTRACT)
    extrude(amount=WALL_WIRING_TIE_EYE_AT_11_DEPTH)

    # Wall wiring tie eye at 22 profile → Wall wiring tie eye at 22 (add)
    with BuildSketch(Plane.XY.offset(WALL_START_2)):
        with Locations((-37.45, -6.7)):
            Rectangle(WALL_WIRING_TIE_EYE_AT_22_PROFILE_W, WALL_WIRING_TIE_EYE_AT_22_PROFILE_H)
        with Locations((-37.4, -6.7)):
            Circle(WALL_WIRING_TIE_EYE_AT_22_PROFILE_R, mode=Mode.SUBTRACT)
    extrude(amount=WALL_WIRING_TIE_EYE_AT_22_DEPTH)

    # USB reserve 13 x 11 at lower end of  2 → USB reserve 13 x 11 at lower end of PCB (cut)
    with BuildSketch(Plane.XY.offset(USB_START)):
        with Locations((-40.7, -6.5)):
            Rectangle(USB_RESERVE_13_X_11_AT_LOWER_END_OF_2_W, USB_RESERVE_13_X_11_AT_LOWER_END_OF_2_H)
    extrude(amount=-USB_RESERVE_13_X_11_AT_LOWER_END_OF_PCB_DEPTH, mode=Mode.SUBTRACT)

    # D7 round port for D6.5 antenna - 18  2 → D7 round port for D6.5 antenna - 18 from (cut)
    with BuildSketch(Plane.XZ.offset(33)):
        with Locations(Location((-14, 39.9, 0), (0, 0, 270))):
            Circle(D7_ROUND_PORT_FOR_D6_5_ANTENNA_18_2_R)
    extrude(amount=-D7_ROUND_PORT_FOR_D6_5_ANTENNA_18_FROM_DEPTH, mode=Mode.SUBTRACT)


solid = part.part
